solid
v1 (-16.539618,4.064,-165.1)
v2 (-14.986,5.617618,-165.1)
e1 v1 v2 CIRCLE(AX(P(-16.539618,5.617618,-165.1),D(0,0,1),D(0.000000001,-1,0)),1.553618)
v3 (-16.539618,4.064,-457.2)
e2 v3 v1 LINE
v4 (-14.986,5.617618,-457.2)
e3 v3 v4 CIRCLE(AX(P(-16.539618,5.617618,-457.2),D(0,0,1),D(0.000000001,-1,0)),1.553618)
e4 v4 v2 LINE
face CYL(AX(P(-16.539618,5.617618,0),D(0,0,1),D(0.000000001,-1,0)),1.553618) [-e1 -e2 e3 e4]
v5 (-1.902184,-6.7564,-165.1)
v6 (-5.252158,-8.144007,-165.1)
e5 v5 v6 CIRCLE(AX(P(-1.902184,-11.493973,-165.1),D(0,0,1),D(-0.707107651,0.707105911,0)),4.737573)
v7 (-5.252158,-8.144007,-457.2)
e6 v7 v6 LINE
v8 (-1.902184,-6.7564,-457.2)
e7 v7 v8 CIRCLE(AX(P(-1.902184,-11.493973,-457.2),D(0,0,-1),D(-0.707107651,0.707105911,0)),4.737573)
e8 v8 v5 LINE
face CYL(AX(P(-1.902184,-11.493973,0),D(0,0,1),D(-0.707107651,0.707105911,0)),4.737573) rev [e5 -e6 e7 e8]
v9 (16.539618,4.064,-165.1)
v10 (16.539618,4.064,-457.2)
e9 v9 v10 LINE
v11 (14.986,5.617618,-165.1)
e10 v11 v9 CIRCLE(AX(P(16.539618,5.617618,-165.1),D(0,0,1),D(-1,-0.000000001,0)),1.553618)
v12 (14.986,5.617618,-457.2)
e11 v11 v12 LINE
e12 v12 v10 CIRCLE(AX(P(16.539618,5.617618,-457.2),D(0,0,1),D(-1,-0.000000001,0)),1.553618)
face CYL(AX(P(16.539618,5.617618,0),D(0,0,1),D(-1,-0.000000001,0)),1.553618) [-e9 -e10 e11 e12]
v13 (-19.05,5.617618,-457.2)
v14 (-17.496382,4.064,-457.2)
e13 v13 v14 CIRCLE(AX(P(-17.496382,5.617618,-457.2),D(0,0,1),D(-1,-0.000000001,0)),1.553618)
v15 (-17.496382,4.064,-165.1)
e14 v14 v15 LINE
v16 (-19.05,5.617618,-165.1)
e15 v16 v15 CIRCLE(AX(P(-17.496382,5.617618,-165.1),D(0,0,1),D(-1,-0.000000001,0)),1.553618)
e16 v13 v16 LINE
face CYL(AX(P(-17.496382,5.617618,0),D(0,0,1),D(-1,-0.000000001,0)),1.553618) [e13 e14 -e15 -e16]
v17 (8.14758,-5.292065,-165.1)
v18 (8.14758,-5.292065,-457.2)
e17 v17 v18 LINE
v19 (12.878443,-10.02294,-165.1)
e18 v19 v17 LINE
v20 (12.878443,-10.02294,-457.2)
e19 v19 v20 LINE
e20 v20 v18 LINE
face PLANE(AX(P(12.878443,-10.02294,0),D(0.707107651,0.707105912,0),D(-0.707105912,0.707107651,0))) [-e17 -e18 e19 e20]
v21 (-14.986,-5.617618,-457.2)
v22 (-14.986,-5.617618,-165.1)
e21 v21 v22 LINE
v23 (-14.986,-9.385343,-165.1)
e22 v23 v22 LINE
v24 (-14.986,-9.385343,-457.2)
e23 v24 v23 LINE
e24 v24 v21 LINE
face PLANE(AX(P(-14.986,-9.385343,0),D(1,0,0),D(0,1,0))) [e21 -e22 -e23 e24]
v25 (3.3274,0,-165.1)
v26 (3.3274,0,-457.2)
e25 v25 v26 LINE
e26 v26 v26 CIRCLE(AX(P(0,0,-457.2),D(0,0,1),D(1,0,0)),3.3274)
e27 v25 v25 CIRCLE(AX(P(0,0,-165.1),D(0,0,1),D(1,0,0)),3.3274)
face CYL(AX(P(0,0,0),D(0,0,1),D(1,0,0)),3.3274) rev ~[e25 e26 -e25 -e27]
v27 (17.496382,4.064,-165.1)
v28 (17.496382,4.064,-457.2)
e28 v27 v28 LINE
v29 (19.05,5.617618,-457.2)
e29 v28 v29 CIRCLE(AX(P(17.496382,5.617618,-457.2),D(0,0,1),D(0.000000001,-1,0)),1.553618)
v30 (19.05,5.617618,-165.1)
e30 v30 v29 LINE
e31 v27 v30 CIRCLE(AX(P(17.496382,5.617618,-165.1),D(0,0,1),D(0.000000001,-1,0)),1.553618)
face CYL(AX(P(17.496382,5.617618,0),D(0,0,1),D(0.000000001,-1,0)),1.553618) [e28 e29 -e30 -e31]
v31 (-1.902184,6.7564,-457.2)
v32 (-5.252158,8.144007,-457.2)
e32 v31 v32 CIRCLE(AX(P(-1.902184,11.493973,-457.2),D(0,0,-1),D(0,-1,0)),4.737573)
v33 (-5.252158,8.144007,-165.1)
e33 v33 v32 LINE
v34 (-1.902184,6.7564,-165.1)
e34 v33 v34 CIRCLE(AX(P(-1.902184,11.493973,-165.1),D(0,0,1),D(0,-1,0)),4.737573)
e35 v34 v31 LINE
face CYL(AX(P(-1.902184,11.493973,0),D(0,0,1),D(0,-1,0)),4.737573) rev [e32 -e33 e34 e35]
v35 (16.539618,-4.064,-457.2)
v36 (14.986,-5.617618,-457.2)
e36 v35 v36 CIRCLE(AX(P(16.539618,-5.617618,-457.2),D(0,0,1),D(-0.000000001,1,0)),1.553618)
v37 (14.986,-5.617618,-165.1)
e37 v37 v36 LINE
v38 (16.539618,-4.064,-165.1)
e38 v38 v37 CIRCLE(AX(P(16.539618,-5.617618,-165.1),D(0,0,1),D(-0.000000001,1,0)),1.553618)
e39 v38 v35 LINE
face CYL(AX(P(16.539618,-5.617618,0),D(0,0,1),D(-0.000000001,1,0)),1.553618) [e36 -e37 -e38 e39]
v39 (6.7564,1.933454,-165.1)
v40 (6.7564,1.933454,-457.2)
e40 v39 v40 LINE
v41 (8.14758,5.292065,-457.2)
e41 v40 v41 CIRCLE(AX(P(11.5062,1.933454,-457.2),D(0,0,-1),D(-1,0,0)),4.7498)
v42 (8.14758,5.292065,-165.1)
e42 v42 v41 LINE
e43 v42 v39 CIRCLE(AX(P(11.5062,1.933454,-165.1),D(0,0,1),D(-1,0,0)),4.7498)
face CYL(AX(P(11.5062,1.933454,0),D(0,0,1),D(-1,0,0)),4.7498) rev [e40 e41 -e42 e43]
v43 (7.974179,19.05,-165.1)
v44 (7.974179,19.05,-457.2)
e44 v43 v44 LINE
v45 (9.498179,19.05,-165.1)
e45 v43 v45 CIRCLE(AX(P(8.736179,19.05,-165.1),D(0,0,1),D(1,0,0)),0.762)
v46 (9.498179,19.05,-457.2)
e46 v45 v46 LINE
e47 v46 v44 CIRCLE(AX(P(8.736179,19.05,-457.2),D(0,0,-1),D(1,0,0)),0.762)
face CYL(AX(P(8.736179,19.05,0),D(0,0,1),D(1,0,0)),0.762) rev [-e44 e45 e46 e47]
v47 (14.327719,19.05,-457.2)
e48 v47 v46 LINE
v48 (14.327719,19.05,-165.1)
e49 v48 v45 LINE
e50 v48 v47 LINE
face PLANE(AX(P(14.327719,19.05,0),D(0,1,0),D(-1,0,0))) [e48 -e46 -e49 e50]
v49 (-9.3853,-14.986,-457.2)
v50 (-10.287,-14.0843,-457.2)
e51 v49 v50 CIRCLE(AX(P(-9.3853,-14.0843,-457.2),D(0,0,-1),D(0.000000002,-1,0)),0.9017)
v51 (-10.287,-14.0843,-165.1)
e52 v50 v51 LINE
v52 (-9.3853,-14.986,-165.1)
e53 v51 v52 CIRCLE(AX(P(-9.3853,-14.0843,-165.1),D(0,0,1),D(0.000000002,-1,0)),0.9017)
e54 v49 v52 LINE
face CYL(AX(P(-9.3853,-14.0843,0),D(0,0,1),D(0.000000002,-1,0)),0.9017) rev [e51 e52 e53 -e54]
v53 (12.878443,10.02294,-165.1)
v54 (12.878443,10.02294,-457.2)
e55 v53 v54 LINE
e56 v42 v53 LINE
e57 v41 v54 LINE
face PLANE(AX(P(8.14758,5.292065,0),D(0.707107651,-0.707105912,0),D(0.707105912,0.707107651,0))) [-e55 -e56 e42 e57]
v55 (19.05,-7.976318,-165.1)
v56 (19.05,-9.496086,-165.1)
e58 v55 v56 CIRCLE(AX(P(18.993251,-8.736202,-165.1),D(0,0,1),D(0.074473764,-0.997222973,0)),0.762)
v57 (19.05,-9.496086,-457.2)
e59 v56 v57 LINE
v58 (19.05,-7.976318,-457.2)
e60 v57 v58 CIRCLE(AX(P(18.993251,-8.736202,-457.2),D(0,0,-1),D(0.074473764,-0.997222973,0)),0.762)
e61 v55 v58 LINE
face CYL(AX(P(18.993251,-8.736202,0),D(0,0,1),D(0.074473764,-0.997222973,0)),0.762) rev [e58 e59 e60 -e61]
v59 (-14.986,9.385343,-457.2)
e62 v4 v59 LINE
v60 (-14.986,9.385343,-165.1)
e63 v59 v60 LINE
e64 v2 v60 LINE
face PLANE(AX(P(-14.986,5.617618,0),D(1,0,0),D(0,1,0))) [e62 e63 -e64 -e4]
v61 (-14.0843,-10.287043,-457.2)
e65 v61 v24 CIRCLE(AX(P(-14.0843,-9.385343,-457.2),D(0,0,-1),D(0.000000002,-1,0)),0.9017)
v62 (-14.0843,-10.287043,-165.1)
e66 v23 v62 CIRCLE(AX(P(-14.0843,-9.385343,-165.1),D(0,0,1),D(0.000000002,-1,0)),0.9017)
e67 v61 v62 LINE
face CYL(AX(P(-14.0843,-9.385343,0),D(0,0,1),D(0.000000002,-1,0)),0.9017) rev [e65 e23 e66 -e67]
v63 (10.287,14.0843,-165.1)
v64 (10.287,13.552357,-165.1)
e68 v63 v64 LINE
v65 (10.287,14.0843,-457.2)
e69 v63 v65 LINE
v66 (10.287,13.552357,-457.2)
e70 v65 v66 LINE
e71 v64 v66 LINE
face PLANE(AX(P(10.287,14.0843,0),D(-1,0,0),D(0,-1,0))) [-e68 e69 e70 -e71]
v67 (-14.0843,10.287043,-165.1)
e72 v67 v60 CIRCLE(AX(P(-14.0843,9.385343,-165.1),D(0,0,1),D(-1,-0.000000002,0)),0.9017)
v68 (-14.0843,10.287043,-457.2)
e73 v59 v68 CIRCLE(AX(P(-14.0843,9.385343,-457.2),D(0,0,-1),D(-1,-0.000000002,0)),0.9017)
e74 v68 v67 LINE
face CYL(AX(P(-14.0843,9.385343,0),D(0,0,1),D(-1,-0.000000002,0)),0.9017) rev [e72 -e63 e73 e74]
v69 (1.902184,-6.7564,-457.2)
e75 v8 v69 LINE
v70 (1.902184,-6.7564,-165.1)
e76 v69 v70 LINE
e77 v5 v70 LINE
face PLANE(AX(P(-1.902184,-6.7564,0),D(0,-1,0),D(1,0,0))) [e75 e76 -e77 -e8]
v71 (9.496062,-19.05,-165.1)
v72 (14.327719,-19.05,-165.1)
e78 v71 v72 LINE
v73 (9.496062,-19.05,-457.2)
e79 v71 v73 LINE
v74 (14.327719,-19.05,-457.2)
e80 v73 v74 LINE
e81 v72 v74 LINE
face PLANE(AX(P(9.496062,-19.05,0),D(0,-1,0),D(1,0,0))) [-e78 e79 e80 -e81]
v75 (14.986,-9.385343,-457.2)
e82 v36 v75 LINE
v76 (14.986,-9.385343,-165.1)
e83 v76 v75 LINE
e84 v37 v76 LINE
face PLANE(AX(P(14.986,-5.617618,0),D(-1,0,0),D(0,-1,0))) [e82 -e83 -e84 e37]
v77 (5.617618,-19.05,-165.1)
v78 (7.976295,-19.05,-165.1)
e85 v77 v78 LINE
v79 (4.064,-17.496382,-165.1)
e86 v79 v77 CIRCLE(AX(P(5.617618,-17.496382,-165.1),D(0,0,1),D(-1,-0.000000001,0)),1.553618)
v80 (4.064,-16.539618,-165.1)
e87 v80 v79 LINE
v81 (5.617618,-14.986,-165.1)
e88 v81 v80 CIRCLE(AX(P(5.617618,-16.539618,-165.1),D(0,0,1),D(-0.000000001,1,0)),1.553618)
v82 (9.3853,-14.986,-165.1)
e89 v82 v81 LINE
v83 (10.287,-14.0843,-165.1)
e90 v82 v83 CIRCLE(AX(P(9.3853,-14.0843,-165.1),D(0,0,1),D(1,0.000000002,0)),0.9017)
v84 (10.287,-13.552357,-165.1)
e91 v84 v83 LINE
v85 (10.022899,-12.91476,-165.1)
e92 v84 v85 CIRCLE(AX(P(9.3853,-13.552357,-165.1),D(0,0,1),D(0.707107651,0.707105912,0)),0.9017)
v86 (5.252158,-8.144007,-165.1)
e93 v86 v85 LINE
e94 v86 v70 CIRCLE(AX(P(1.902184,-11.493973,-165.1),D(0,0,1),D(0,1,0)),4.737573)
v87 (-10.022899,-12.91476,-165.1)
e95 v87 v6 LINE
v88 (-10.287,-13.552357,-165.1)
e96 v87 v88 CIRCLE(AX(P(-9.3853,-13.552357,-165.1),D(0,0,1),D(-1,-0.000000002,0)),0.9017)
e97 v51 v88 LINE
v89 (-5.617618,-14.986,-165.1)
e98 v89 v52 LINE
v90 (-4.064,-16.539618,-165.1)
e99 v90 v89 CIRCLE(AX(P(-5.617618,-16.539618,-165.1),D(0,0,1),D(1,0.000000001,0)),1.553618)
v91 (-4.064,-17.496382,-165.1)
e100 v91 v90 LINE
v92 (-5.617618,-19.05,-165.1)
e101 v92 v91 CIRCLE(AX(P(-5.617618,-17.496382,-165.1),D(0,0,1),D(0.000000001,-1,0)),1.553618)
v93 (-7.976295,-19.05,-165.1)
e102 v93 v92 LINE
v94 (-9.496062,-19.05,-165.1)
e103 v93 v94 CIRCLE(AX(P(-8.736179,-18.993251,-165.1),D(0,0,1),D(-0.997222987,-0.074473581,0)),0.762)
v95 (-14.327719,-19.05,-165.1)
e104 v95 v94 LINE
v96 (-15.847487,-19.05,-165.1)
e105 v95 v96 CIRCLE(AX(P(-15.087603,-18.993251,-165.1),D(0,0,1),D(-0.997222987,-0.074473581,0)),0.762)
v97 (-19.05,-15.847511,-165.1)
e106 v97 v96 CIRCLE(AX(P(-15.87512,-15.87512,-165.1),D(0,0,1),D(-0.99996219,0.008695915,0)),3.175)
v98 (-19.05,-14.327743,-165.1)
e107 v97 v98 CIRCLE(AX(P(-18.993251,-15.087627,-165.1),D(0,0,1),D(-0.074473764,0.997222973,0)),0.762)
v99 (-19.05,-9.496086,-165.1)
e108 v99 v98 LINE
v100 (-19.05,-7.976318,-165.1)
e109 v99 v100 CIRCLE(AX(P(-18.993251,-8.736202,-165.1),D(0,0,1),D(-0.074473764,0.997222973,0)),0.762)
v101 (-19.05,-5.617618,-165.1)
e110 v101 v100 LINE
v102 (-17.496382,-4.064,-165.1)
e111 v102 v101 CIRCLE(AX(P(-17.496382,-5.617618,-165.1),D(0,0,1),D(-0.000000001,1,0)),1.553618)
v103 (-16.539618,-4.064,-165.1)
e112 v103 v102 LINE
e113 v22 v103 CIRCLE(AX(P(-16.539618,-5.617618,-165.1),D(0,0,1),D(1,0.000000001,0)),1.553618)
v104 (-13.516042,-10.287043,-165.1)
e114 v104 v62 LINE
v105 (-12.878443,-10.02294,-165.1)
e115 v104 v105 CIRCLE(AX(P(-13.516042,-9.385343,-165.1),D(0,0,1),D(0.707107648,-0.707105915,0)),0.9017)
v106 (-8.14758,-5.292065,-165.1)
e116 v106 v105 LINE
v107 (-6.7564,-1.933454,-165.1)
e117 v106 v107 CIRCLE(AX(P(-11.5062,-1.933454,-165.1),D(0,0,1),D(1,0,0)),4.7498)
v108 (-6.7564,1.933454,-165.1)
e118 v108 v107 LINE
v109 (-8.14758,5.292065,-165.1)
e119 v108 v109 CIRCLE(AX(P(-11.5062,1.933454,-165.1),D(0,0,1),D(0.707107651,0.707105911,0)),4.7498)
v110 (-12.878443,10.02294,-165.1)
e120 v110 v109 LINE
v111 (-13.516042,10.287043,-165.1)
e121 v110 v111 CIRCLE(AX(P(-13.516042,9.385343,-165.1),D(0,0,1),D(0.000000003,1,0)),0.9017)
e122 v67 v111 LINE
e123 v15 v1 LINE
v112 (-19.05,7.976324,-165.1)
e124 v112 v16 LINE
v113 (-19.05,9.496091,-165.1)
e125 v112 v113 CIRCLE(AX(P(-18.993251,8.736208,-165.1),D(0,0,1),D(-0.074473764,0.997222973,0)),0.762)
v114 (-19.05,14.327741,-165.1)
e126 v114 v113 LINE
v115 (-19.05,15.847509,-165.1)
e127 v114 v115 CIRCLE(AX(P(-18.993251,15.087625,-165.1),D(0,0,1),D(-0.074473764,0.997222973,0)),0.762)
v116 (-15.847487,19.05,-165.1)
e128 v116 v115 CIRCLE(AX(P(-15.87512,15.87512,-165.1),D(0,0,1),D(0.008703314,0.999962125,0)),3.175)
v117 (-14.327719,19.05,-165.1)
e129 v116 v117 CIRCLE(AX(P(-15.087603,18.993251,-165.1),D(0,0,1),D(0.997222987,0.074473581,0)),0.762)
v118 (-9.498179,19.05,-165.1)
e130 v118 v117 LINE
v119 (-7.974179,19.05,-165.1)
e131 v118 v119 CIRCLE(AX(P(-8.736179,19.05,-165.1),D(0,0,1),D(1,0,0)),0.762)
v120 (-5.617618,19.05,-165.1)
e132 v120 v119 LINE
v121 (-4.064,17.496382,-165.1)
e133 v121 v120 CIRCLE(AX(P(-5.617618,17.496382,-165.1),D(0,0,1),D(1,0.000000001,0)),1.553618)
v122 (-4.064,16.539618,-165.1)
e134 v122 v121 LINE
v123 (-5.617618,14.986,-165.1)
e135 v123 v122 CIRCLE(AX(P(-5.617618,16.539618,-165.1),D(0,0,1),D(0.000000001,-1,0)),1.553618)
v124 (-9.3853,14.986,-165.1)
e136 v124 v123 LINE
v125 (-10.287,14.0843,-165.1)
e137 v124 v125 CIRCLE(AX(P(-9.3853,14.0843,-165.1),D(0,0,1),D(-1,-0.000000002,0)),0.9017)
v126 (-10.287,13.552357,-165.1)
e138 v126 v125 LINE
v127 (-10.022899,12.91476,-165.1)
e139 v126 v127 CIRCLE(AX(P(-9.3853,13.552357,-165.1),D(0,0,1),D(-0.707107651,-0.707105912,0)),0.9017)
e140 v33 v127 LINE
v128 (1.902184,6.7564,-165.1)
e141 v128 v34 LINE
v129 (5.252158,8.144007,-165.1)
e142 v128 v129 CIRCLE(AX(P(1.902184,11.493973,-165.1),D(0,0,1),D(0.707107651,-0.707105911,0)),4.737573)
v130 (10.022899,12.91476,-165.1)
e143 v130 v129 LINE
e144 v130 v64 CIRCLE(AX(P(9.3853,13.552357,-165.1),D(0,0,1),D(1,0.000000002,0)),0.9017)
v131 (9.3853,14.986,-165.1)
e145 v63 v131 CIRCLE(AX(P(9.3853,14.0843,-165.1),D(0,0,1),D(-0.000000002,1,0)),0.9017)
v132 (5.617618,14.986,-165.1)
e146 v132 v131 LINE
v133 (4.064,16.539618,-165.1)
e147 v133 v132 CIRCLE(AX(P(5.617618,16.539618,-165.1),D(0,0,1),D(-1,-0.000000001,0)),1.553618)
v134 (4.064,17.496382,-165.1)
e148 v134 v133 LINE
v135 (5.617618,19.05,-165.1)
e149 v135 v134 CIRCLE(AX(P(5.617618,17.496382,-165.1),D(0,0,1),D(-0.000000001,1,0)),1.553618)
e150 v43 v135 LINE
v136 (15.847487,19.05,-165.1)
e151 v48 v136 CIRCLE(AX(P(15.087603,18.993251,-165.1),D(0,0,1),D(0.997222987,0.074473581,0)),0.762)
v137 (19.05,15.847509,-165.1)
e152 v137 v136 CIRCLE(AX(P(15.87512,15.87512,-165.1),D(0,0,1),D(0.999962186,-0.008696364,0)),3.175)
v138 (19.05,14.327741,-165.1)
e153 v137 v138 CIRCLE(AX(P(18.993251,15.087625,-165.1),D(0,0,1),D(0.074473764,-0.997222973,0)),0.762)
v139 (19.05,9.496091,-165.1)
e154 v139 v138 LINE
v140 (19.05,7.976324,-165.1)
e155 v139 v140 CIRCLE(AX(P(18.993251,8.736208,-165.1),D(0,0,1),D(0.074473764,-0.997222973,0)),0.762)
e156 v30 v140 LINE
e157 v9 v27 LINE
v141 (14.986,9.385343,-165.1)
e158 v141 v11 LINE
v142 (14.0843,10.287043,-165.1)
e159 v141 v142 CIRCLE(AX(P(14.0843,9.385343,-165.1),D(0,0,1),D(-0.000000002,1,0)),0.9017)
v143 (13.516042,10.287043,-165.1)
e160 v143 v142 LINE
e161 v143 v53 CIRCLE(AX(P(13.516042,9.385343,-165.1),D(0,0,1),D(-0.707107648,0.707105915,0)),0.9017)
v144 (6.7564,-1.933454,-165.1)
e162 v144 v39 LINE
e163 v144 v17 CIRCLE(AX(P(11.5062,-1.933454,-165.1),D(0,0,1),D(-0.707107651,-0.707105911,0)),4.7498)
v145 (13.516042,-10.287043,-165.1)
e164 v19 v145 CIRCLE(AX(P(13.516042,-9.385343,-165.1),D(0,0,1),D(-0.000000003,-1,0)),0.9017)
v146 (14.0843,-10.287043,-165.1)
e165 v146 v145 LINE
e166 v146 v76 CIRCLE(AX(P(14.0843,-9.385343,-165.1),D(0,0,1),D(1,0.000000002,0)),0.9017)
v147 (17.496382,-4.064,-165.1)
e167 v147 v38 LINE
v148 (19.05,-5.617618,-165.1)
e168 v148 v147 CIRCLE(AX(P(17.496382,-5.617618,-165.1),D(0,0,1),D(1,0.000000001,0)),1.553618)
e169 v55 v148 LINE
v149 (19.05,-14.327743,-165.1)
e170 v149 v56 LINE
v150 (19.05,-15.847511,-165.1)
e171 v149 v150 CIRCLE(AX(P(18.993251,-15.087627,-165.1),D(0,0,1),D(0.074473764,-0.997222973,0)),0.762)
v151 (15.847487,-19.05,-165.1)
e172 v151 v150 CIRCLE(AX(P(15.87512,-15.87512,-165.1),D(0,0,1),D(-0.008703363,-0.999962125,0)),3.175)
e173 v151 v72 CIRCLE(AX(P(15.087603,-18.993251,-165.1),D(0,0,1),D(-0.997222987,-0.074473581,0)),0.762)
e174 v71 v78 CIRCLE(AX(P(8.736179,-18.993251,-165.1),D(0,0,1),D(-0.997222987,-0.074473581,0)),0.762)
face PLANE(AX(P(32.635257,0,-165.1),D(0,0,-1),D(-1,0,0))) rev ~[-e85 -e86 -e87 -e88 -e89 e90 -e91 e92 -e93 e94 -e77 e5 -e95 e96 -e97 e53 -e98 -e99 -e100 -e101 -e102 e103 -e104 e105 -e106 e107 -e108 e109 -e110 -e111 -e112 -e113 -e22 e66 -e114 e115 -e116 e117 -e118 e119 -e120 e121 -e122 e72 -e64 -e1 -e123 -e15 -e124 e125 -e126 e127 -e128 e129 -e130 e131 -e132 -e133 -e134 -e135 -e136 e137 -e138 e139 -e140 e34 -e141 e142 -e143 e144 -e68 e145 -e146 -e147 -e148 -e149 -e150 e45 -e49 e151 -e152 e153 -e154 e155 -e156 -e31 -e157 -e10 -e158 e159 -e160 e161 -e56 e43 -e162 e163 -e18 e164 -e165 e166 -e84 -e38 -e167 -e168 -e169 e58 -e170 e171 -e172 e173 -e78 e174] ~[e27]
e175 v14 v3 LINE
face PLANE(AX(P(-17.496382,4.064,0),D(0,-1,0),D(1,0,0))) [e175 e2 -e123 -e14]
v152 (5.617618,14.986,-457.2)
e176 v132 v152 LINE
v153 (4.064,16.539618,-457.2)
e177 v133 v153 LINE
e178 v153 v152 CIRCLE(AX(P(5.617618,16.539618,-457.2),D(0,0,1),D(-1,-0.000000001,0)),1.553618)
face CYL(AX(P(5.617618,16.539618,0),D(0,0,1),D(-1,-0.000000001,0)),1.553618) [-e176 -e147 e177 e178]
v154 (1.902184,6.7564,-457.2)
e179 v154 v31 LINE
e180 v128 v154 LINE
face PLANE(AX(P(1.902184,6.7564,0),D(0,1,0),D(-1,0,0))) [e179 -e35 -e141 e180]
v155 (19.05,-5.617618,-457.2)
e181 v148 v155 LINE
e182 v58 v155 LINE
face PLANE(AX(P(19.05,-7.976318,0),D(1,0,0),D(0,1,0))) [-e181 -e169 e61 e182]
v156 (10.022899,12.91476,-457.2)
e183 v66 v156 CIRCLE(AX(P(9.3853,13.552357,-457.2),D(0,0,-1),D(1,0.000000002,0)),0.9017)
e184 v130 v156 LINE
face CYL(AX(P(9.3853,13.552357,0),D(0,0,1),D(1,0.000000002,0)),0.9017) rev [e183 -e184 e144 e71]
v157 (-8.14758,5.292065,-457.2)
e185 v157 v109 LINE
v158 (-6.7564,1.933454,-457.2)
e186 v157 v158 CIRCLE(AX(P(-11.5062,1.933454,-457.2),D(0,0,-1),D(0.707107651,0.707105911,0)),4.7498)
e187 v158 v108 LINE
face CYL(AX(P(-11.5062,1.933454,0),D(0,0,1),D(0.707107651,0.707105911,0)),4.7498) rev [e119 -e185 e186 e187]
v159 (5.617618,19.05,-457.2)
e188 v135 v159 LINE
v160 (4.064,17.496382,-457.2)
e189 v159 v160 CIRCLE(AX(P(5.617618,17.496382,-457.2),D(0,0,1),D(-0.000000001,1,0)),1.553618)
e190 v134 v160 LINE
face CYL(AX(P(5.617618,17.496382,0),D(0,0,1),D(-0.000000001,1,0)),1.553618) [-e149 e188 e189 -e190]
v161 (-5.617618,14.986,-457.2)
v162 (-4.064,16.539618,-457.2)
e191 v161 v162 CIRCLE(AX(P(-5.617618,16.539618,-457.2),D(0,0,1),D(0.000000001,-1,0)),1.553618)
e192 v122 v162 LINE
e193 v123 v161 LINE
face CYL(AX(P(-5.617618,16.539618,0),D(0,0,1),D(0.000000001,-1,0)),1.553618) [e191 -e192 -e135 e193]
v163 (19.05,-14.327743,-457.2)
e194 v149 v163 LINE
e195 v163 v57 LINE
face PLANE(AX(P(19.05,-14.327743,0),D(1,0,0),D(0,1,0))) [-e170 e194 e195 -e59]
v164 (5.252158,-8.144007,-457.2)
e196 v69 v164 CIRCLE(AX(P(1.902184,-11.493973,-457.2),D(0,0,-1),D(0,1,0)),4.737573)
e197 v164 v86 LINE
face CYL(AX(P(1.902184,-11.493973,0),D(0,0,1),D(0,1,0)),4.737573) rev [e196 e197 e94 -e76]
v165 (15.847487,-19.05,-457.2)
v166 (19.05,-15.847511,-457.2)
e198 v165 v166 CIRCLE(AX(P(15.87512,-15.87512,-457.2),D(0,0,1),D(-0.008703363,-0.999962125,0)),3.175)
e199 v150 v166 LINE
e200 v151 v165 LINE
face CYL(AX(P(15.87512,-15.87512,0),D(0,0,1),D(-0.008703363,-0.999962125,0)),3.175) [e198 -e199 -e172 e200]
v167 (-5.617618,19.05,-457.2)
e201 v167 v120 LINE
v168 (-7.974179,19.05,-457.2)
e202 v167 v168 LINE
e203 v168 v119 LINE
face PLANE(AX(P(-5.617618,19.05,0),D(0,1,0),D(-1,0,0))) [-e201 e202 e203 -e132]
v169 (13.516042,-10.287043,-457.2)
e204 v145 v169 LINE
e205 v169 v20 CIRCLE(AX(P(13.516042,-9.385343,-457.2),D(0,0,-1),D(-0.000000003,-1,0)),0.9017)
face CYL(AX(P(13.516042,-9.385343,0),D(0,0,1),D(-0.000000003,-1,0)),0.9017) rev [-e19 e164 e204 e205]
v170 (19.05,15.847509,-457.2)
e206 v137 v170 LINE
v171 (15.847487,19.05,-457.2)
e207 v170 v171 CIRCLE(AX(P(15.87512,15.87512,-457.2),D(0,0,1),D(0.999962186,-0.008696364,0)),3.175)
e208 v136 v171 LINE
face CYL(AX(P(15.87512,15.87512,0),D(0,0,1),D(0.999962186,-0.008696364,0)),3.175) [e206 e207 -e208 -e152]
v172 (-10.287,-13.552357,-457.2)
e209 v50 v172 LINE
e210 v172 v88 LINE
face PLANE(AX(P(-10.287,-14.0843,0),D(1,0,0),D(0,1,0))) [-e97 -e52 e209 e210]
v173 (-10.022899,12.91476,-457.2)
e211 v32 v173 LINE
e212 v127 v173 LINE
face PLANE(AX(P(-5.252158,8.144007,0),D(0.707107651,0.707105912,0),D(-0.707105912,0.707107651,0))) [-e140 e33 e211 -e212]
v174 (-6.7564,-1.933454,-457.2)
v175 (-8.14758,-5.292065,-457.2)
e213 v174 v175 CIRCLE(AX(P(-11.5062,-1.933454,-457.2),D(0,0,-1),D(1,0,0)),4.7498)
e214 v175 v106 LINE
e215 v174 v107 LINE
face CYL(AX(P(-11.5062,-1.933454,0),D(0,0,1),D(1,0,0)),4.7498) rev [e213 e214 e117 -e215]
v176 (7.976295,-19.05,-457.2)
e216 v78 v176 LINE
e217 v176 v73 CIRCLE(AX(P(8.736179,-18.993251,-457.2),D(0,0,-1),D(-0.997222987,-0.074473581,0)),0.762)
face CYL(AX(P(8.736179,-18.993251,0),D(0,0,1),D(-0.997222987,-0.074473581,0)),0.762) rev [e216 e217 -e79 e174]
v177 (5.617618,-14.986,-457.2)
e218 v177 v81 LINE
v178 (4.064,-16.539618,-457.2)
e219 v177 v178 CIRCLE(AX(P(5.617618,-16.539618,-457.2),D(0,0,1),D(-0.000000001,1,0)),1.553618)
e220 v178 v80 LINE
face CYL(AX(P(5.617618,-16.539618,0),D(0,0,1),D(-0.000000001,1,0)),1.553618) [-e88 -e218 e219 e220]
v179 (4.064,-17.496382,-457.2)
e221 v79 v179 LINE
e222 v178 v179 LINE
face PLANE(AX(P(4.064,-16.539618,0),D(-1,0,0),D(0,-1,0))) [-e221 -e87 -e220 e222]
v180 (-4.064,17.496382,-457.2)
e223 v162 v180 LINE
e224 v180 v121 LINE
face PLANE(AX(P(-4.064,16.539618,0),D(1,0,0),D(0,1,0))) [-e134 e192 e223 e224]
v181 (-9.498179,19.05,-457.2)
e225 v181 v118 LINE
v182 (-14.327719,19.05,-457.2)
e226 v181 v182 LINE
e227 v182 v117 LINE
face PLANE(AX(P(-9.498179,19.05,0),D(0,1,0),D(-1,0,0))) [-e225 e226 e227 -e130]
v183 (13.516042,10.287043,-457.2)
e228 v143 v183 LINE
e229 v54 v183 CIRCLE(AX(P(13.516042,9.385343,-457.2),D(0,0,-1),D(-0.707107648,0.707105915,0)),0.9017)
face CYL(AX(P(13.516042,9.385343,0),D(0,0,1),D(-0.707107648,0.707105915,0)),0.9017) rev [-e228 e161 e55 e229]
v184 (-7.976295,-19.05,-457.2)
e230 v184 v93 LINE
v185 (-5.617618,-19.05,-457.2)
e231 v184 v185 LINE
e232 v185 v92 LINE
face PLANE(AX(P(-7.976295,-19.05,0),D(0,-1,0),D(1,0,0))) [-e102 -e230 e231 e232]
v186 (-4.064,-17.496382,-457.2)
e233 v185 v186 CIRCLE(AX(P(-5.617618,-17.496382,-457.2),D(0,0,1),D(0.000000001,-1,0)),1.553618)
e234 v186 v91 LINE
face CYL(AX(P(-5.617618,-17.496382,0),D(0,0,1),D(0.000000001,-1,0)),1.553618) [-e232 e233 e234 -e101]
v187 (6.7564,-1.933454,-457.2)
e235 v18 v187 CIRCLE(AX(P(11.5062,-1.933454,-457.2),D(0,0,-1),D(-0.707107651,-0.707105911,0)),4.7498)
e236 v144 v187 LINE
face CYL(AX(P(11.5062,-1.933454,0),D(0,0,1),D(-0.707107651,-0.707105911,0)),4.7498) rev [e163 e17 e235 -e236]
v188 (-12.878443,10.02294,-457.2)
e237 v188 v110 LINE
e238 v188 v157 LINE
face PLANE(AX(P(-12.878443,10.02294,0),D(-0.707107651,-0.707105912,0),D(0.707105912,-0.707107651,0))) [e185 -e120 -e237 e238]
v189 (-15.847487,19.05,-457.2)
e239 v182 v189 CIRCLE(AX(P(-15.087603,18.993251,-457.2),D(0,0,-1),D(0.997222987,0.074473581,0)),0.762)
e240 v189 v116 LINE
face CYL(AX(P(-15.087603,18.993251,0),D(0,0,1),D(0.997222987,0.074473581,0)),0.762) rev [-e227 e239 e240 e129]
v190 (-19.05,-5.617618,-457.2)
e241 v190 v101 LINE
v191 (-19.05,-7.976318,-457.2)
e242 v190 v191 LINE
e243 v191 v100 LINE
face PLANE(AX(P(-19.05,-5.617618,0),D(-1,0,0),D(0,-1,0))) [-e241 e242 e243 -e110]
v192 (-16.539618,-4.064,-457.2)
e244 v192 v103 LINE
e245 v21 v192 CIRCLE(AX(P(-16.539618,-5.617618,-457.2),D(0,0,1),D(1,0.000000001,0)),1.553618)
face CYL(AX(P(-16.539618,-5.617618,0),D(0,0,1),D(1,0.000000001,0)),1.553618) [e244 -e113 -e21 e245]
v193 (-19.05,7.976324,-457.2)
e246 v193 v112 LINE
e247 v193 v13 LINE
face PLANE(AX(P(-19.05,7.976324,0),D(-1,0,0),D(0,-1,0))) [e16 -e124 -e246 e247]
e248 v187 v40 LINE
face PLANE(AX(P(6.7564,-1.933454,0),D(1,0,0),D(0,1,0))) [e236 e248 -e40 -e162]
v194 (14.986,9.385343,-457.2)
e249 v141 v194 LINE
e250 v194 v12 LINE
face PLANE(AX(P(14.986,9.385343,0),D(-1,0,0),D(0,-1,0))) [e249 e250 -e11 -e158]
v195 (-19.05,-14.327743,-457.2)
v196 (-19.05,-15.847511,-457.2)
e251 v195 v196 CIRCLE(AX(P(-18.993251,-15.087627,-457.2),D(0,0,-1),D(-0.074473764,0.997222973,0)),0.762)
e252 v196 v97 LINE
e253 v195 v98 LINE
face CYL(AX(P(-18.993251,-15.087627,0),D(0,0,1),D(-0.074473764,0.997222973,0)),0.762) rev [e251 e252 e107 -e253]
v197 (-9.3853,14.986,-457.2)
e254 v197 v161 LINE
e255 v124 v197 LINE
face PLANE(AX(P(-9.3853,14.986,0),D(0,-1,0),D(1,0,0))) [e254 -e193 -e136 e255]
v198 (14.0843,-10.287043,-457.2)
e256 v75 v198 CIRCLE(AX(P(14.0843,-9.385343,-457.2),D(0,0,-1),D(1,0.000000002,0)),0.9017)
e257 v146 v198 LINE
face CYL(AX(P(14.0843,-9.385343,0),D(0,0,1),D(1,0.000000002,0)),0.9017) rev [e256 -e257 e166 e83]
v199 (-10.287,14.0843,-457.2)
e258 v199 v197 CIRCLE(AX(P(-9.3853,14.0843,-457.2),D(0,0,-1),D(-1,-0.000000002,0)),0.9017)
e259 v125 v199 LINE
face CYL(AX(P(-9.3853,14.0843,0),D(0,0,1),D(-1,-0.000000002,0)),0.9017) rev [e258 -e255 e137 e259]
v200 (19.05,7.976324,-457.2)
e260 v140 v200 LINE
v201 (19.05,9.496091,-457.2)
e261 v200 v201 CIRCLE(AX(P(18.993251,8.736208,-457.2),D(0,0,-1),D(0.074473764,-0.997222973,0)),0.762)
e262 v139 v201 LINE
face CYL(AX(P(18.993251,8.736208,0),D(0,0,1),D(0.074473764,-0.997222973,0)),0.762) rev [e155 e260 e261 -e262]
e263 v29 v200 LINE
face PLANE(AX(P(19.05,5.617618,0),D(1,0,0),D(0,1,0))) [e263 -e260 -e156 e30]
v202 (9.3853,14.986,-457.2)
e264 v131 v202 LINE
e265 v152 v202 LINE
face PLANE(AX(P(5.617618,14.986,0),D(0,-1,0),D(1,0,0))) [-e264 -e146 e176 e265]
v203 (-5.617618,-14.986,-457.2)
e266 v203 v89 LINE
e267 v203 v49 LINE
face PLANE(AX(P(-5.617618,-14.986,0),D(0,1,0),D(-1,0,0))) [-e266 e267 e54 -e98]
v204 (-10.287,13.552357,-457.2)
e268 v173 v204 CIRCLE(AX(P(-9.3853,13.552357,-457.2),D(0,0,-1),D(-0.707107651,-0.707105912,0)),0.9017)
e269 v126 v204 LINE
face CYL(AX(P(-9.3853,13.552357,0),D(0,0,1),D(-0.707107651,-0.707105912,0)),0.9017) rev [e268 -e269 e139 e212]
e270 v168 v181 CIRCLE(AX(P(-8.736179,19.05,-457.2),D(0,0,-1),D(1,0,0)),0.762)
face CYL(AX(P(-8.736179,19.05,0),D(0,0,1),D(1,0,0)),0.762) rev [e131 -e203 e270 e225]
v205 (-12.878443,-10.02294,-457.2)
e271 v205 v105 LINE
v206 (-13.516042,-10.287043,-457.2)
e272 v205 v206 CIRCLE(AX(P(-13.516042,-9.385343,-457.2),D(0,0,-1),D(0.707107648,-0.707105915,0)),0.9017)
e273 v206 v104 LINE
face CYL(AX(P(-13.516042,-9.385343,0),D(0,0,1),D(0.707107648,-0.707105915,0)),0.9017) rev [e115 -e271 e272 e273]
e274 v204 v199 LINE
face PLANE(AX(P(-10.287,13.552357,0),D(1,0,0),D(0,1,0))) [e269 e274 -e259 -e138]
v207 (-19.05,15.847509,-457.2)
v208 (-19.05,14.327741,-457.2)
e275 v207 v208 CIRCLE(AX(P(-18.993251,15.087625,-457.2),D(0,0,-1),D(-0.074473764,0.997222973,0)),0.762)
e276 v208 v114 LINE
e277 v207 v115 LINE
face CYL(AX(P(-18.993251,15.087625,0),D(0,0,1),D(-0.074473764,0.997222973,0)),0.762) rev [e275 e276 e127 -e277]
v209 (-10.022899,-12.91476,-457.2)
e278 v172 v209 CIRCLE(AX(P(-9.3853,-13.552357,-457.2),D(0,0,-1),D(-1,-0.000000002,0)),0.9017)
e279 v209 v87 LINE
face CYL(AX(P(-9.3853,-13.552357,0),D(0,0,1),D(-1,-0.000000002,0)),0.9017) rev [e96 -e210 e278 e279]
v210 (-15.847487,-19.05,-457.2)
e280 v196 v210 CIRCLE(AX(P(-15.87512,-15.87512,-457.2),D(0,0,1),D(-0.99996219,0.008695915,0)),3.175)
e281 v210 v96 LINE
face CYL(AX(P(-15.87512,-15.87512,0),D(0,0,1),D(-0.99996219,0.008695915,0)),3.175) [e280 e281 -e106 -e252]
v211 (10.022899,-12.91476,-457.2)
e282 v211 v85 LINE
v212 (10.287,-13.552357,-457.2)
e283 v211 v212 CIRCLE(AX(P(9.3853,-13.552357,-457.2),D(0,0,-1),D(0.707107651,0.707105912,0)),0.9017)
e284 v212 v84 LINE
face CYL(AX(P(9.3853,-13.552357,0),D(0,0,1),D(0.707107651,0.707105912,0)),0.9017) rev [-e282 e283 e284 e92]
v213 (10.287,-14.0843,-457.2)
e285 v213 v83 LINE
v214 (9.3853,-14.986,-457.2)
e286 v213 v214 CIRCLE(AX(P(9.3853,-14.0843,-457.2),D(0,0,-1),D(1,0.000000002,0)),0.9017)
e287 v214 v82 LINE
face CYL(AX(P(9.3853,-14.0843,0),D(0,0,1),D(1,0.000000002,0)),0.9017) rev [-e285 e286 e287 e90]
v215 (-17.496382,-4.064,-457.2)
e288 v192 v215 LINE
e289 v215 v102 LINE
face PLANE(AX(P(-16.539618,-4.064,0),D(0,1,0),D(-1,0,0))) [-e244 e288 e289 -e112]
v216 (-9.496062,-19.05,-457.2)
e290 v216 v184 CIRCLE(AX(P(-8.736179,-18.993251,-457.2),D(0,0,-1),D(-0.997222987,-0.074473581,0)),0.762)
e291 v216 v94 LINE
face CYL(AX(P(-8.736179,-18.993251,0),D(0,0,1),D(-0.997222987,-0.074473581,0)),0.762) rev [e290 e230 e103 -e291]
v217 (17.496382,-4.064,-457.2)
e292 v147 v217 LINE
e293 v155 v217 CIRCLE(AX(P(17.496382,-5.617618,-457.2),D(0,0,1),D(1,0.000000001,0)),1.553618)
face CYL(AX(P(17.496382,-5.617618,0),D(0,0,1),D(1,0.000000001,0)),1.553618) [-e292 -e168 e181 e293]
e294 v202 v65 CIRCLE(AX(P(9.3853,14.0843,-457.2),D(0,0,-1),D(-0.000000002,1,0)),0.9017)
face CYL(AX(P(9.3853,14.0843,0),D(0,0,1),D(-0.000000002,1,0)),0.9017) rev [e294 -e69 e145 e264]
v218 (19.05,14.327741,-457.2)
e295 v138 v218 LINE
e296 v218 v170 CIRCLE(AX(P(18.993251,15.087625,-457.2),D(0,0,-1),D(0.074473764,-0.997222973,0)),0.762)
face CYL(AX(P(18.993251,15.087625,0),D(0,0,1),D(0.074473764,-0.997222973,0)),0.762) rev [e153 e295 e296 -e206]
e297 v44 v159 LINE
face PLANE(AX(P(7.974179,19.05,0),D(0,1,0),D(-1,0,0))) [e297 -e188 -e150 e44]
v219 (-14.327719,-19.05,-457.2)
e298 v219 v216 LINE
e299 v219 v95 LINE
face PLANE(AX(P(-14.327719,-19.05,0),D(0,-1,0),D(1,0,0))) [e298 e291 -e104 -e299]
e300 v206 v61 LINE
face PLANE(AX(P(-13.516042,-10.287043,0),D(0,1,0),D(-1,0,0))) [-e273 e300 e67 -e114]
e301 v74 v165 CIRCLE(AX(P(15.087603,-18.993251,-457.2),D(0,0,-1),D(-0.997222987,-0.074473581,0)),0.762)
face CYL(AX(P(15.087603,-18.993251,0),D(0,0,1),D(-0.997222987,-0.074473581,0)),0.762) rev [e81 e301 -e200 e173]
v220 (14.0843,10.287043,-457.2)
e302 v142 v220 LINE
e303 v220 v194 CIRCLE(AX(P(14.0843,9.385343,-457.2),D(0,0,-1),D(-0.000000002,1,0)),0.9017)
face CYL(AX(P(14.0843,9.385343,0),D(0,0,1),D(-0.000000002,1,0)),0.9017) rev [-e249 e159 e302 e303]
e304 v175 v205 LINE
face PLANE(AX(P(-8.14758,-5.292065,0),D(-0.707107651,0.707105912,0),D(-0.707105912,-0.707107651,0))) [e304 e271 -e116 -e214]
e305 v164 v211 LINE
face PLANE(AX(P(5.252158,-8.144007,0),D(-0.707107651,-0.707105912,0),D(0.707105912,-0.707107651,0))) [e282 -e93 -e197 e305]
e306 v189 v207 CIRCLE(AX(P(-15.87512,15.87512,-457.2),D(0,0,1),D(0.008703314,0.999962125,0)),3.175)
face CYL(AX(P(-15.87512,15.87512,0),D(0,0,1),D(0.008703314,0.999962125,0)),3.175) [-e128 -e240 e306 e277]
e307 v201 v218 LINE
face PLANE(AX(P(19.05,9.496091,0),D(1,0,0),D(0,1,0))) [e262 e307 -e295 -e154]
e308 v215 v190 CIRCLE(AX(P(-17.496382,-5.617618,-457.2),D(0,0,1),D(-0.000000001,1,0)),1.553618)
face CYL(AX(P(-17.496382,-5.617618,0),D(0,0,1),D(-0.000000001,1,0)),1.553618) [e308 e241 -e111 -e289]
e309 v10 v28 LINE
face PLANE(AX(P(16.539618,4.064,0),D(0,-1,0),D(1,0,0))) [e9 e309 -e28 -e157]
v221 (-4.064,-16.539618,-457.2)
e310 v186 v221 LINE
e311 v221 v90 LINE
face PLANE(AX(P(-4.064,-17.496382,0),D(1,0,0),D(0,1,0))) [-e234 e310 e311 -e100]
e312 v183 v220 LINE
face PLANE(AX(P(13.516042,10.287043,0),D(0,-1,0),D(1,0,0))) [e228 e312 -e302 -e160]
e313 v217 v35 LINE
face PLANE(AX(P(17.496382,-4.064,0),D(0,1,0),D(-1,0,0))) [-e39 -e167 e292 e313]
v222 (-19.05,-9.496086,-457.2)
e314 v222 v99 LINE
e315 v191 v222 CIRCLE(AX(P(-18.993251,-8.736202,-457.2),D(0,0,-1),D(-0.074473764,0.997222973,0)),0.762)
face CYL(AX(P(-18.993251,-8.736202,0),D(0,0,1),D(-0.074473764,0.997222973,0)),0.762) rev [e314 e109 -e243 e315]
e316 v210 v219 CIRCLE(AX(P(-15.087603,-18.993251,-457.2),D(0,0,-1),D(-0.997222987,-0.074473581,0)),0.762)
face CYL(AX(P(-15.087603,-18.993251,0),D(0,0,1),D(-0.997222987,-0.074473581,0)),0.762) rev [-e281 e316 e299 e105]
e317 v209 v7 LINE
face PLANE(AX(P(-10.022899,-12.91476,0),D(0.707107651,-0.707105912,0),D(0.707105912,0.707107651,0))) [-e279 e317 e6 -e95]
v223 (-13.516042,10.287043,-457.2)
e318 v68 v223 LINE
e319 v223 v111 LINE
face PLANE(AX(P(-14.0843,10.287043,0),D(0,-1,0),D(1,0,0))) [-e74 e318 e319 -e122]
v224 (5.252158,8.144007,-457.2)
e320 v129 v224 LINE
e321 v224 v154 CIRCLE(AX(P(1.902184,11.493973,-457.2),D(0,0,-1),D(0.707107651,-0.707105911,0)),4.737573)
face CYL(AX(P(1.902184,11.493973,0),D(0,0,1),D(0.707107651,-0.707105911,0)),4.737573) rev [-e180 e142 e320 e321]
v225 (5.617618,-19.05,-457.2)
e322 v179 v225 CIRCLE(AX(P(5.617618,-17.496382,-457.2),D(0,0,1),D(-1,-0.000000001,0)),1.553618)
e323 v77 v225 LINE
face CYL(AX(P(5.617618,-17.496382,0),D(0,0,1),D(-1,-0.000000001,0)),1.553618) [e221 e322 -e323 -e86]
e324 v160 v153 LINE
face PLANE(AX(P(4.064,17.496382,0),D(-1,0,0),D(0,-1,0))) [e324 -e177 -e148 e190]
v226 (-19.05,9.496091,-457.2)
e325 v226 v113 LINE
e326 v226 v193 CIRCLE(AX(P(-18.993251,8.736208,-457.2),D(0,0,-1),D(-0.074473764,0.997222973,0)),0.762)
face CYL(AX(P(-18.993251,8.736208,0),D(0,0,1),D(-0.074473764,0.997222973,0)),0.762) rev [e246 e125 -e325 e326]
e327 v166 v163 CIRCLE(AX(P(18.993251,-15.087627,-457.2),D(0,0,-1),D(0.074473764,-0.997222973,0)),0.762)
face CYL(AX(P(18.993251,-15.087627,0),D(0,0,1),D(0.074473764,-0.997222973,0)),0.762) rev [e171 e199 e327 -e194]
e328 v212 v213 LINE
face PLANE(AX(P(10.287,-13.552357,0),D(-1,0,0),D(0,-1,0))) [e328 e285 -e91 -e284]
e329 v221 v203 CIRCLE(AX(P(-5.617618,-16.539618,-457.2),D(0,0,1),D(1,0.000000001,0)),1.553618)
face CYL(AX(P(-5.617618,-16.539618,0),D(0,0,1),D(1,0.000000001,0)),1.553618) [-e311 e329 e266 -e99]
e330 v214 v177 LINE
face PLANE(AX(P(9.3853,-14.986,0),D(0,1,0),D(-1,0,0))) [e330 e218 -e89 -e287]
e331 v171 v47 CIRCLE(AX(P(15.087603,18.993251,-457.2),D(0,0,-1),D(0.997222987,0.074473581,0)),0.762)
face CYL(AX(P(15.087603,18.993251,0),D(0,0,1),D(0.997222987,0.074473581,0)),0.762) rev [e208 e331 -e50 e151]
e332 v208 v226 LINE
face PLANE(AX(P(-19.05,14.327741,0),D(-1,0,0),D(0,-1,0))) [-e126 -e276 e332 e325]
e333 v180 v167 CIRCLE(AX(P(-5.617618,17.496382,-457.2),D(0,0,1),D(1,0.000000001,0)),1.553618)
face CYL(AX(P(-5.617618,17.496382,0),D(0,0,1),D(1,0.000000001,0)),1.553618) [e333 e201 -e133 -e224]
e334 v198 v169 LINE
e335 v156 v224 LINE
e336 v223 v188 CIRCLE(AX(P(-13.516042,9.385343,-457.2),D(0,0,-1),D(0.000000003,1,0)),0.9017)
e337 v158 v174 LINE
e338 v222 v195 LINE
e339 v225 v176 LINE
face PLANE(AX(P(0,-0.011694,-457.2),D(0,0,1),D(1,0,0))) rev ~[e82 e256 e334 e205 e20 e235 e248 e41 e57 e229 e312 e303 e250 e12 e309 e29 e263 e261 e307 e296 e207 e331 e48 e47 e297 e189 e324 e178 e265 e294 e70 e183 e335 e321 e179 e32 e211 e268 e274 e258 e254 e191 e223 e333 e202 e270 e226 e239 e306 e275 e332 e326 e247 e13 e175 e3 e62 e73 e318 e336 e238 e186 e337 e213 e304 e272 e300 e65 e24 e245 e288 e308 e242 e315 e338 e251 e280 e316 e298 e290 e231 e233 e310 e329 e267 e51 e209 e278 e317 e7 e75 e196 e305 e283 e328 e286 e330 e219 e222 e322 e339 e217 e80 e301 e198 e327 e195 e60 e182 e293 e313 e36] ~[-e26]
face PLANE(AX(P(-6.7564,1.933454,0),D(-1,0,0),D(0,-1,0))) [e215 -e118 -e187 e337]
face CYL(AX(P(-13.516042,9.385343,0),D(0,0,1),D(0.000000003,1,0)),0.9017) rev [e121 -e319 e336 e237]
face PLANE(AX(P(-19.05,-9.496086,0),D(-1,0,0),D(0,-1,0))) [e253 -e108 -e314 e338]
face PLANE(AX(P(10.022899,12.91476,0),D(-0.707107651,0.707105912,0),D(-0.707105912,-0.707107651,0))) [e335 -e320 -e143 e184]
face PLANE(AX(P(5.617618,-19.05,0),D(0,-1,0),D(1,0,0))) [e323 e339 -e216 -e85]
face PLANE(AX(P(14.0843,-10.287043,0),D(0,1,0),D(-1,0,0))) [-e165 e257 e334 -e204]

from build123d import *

# Parameters (mm, degrees)
SKETCH3_R                = 3.3274
BOSS_EXTRUDE1_DEPTH      = 457.2
BOSS_EXTRUDE1_DEPTH_BACK = 457.2
CUT_EXTRUDE1_DEPTH       = 22.86


with BuildPart() as part:
    # Sketch3 → Boss-Extrude1 (new body, two sides)
    with BuildSketch(Plane.XY) as boss_extrude1_sk:
        with BuildLine():
            Line((-4.064, 16.539617549), (-4.064, 17.496382451))
            ThreePointArc((-4.064, 17.496382451), (-4.519044045, 18.594955955), (-5.617617549, 19.05))
            Line((-5.617617549, 19.05), (-7.974178704, 19.05))
            ThreePointArc((-7.974178704, 19.05), (-8.736178704, 18.288), (-9.498178704, 19.05))
            Line((-9.498178704, 19.05), (-14.327719207, 19.05))
            ThreePointArc((-14.327719207, 19.05), (-15.087603123, 18.231251131), (-15.847487039, 19.05))
            ThreePointArc((-15.847487039, 19.05), (-18.120176289, 18.120192083), (-19.05, 15.847509295))
            ThreePointArc((-19.05, 15.847509295), (-18.231250992, 15.08762539), (-19.05, 14.327741484))
            Line((-19.05, 14.327741484), (-19.05, 9.496091471))
            ThreePointArc((-19.05, 9.496091471), (-18.231250992, 8.736207565), (-19.05, 7.97632366))
            Line((-19.05, 7.97632366), (-19.05, 5.617617549))
            ThreePointArc((-19.05, 5.617617549), (-18.594955955, 4.519044045), (-17.496382451, 4.064))
            Line((-17.496382451, 4.064), (-16.539617549, 4.064))
            ThreePointArc((-16.539617549, 4.064), (-15.441044045, 4.519044045), (-14.986, 5.617617549))
            Line((-14.986, 5.617617549), (-14.986, 9.385342516))
            ThreePointArc((-14.986, 9.385342516), (-14.721898185, 10.022940701), (-14.0843, 10.287042516))
            Line((-14.0843, 10.287042516), (-13.516042086, 10.287042516))
            ThreePointArc((-13.516042086, 10.287042516), (-13.170975923, 10.218404478), (-12.878443117, 10.022939917))
            Line((-12.878443117, 10.022939917), (-8.14758008, 5.292065243))
            ThreePointArc((-8.14758008, 5.292065243), (-7.117955879, 3.751120653), (-6.7564, 1.933453584))
            Line((-6.7564, 1.933453584), (-6.7564, -1.933453584))
            ThreePointArc((-6.7564, -1.933453584), (-7.117955879, -3.751120653), (-8.14758008, -5.292065243))
            Line((-8.14758008, -5.292065243), (-12.878443117, -10.022939917))
            ThreePointArc((-12.878443117, -10.022939917), (-13.170975923, -10.218404478), (-13.516042086, -10.287042516))
            Line((-13.516042086, -10.287042516), (-14.0843, -10.287042516))
            ThreePointArc((-14.0843, -10.287042516), (-14.721898185, -10.022940701), (-14.986, -9.385342516))
            Line((-14.986, -9.385342516), (-14.986, -5.617617549))
            ThreePointArc((-14.986, -5.617617549), (-15.441044045, -4.519044045), (-16.539617549, -4.064))
            Line((-16.539617549, -4.064), (-17.496382451, -4.064))
            ThreePointArc((-17.496382451, -4.064), (-18.594955955, -4.519044045), (-19.05, -5.617617549))
            Line((-19.05, -5.617617549), (-19.05, -7.976318491))
            ThreePointArc((-19.05, -7.976318491), (-18.231250992, -8.736202396), (-19.05, -9.496086302))
            Line((-19.05, -9.496086302), (-19.05, -14.32774291))
            ThreePointArc((-19.05, -14.32774291), (-18.231250992, -15.087626816), (-19.05, -15.847510721))
            ThreePointArc((-19.05, -15.847510721), (-18.120175716, -18.120192644), (-15.847486868, -19.05))
            ThreePointArc((-15.847486868, -19.05), (-15.087602952, -18.231251131), (-14.327719036, -19.05))
            Line((-14.327719036, -19.05), (-9.496062448, -19.05))
            ThreePointArc((-9.496062448, -19.05), (-8.736178532, -18.231251131), (-7.976294616, -19.05))
            Line((-7.976294616, -19.05), (-5.617617549, -19.05))
            ThreePointArc((-5.617617549, -19.05), (-4.519044045, -18.594955955), (-4.064, -17.496382451))
            Line((-4.064, -17.496382451), (-4.064, -16.539617549))
            ThreePointArc((-4.064, -16.539617549), (-4.519044045, -15.441044045), (-5.617617549, -14.986))
            Line((-5.617617549, -14.986), (-9.3853, -14.986))
            ThreePointArc((-9.3853, -14.986), (-10.022898185, -14.721898185), (-10.287, -14.0843))
            Line((-10.287, -14.0843), (-10.287, -13.552357131))
            ThreePointArc((-10.287, -13.552357131), (-10.218362387, -13.207291992), (-10.022898969, -12.91475973))
            Line((-10.022898969, -12.91475973), (-5.252158105, -8.144007132))
            ThreePointArc((-5.252158105, -8.144007132), (-3.715177372, -7.117027388), (-1.902183975, -6.7564))
            Line((-1.902183975, -6.7564), (1.902183975, -6.7564))
            ThreePointArc((1.902183975, -6.7564), (3.715177372, -7.117027388), (5.252158105, -8.144007132))
            Line((5.252158105, -8.144007132), (10.022898969, -12.91475973))
            ThreePointArc((10.022898969, -12.91475973), (10.218362387, -13.207291992), (10.287, -13.552357131))
            Line((10.287, -13.552357131), (10.287, -14.0843))
            ThreePointArc((10.287, -14.0843), (10.022898185, -14.721898185), (9.3853, -14.986))
            Line((9.3853, -14.986), (5.617617549, -14.986))
            ThreePointArc((5.617617549, -14.986), (4.519044045, -15.441044045), (4.064, -16.539617549))
            Line((4.064, -16.539617549), (4.064, -17.496382451))
            ThreePointArc((4.064, -17.496382451), (4.519044045, -18.594955955), (5.617617549, -19.05))
            Line((5.617617549, -19.05), (7.976294616, -19.05))
            ThreePointArc((7.976294616, -19.05), (8.736178532, -18.231251131), (9.496062448, -19.05))
            Line((9.496062448, -19.05), (14.327719036, -19.05))
            ThreePointArc((14.327719036, -19.05), (15.087602952, -18.231251131), (15.847486868, -19.05))
            ThreePointArc((15.847486868, -19.05), (18.120175716, -18.120192644), (19.05, -15.847510721))
            ThreePointArc((19.05, -15.847510721), (18.231250992, -15.087626816), (19.05, -14.32774291))
            Line((19.05, -14.32774291), (19.05, -9.496086302))
            ThreePointArc((19.05, -9.496086302), (18.231250992, -8.736202396), (19.05, -7.976318491))
            Line((19.05, -7.976318491), (19.05, -5.617617549))
            ThreePointArc((19.05, -5.617617549), (18.594955955, -4.519044045), (17.496382451, -4.064))
            Line((17.496382451, -4.064), (16.539617549, -4.064))
            ThreePointArc((16.539617549, -4.064), (15.441044045, -4.519044045), (14.986, -5.617617549))
            Line((14.986, -5.617617549), (14.986, -9.385342516))
            ThreePointArc((14.986, -9.385342516), (14.721898185, -10.022940701), (14.0843, -10.287042516))
            Line((14.0843, -10.287042516), (13.516042086, -10.287042516))
            ThreePointArc((13.516042086, -10.287042516), (13.170975923, -10.218404478), (12.878443117, -10.022939917))
            Line((12.878443117, -10.022939917), (8.14758008, -5.292065243))
            ThreePointArc((8.14758008, -5.292065243), (7.117955879, -3.751120653), (6.7564, -1.933453584))
            Line((6.7564, -1.933453584), (6.7564, 1.933453584))
            ThreePointArc((6.7564, 1.933453584), (7.117955879, 3.751120653), (8.14758008, 5.292065243))
            Line((8.14758008, 5.292065243), (12.878443117, 10.022939917))
            ThreePointArc((12.878443117, 10.022939917), (13.170975923, 10.218404478), (13.516042086, 10.287042516))
            Line((13.516042086, 10.287042516), (14.0843, 10.287042516))
            ThreePointArc((14.0843, 10.287042516), (14.721898185, 10.022940701), (14.986, 9.385342516))
            Line((14.986, 9.385342516), (14.986, 5.617617549))
            ThreePointArc((14.986, 5.617617549), (15.441044045, 4.519044045), (16.539617549, 4.064))
            Line((16.539617549, 4.064), (17.496382451, 4.064))
            ThreePointArc((17.496382451, 4.064), (18.594955955, 4.519044045), (19.05, 5.617617549))
            Line((19.05, 5.617617549), (19.05, 7.97632366))
            ThreePointArc((19.05, 7.97632366), (18.231250992, 8.736207565), (19.05, 9.496091471))
            Line((19.05, 9.496091471), (19.05, 14.327741484))
            ThreePointArc((19.05, 14.327741484), (18.231250992, 15.08762539), (19.05, 15.847509295))
            ThreePointArc((19.05, 15.847509295), (18.120176289, 18.120192083), (15.847487039, 19.05))
            ThreePointArc((15.847487039, 19.05), (15.087603123, 18.231251131), (14.327719207, 19.05))
            Line((14.327719207, 19.05), (9.498178704, 19.05))
            ThreePointArc((9.498178704, 19.05), (8.736178704, 18.288), (7.974178704, 19.05))
            Line((7.974178704, 19.05), (5.617617549, 19.05))
            ThreePointArc((5.617617549, 19.05), (4.519044045, 18.594955955), (4.064, 17.496382451))
            Line((4.064, 17.496382451), (4.064, 16.539617549))
            ThreePointArc((4.064, 16.539617549), (4.519044045, 15.441044045), (5.617617549, 14.986))
            Line((5.617617549, 14.986), (9.3853, 14.986))
            ThreePointArc((9.3853, 14.986), (10.022898185, 14.721898185), (10.287, 14.0843))
            Line((10.287, 14.0843), (10.287, 13.552357131))
            ThreePointArc((10.287, 13.552357131), (10.218362387, 13.207291992), (10.022898969, 12.91475973))
            Line((10.022898969, 12.91475973), (5.252158105, 8.144007132))
            ThreePointArc((5.252158105, 8.144007132), (3.715177372, 7.117027388), (1.902183975, 6.7564))
            Line((1.902183975, 6.7564), (-1.902183975, 6.7564))
            ThreePointArc((-1.902183975, 6.7564), (-3.715177372, 7.117027388), (-5.252158105, 8.144007132))
            Line((-5.252158105, 8.144007132), (-10.022898969, 12.91475973))
            ThreePointArc((-10.022898969, 12.91475973), (-10.218362387, 13.207291992), (-10.287, 13.552357131))
            Line((-10.287, 13.552357131), (-10.287, 14.0843))
            ThreePointArc((-10.287, 14.0843), (-10.022898185, 14.721898185), (-9.3853, 14.986))
            Line((-9.3853, 14.986), (-5.617617549, 14.986))
            ThreePointArc((-5.617617549, 14.986), (-4.519044045, 15.441044045), (-4.064, 16.539617549))
        make_face()
        Circle(SKETCH3_R, mode=Mode.SUBTRACT)
    extrude(amount=BOSS_EXTRUDE1_DEPTH)
    extrude(boss_extrude1_sk.sketch, amount=-BOSS_EXTRUDE1_DEPTH_BACK)

    # Sketch4 → Cut-Extrude1 (cut, symmetric)
    with BuildSketch(Plane(origin=(0, 0, 0), x_dir=(1, 0, 0), z_dir=(0, 1, 0))):
        Polygon((-11.912948955, 165.1), (-26.025980117, 165.1), (-26.025980117, -481.323002094), (32.635256624, -481.323002094), (32.635256624, 165.1), align=None)
    extrude(amount=CUT_EXTRUDE1_DEPTH, both=True, mode=Mode.SUBTRACT)


solid = part.part
